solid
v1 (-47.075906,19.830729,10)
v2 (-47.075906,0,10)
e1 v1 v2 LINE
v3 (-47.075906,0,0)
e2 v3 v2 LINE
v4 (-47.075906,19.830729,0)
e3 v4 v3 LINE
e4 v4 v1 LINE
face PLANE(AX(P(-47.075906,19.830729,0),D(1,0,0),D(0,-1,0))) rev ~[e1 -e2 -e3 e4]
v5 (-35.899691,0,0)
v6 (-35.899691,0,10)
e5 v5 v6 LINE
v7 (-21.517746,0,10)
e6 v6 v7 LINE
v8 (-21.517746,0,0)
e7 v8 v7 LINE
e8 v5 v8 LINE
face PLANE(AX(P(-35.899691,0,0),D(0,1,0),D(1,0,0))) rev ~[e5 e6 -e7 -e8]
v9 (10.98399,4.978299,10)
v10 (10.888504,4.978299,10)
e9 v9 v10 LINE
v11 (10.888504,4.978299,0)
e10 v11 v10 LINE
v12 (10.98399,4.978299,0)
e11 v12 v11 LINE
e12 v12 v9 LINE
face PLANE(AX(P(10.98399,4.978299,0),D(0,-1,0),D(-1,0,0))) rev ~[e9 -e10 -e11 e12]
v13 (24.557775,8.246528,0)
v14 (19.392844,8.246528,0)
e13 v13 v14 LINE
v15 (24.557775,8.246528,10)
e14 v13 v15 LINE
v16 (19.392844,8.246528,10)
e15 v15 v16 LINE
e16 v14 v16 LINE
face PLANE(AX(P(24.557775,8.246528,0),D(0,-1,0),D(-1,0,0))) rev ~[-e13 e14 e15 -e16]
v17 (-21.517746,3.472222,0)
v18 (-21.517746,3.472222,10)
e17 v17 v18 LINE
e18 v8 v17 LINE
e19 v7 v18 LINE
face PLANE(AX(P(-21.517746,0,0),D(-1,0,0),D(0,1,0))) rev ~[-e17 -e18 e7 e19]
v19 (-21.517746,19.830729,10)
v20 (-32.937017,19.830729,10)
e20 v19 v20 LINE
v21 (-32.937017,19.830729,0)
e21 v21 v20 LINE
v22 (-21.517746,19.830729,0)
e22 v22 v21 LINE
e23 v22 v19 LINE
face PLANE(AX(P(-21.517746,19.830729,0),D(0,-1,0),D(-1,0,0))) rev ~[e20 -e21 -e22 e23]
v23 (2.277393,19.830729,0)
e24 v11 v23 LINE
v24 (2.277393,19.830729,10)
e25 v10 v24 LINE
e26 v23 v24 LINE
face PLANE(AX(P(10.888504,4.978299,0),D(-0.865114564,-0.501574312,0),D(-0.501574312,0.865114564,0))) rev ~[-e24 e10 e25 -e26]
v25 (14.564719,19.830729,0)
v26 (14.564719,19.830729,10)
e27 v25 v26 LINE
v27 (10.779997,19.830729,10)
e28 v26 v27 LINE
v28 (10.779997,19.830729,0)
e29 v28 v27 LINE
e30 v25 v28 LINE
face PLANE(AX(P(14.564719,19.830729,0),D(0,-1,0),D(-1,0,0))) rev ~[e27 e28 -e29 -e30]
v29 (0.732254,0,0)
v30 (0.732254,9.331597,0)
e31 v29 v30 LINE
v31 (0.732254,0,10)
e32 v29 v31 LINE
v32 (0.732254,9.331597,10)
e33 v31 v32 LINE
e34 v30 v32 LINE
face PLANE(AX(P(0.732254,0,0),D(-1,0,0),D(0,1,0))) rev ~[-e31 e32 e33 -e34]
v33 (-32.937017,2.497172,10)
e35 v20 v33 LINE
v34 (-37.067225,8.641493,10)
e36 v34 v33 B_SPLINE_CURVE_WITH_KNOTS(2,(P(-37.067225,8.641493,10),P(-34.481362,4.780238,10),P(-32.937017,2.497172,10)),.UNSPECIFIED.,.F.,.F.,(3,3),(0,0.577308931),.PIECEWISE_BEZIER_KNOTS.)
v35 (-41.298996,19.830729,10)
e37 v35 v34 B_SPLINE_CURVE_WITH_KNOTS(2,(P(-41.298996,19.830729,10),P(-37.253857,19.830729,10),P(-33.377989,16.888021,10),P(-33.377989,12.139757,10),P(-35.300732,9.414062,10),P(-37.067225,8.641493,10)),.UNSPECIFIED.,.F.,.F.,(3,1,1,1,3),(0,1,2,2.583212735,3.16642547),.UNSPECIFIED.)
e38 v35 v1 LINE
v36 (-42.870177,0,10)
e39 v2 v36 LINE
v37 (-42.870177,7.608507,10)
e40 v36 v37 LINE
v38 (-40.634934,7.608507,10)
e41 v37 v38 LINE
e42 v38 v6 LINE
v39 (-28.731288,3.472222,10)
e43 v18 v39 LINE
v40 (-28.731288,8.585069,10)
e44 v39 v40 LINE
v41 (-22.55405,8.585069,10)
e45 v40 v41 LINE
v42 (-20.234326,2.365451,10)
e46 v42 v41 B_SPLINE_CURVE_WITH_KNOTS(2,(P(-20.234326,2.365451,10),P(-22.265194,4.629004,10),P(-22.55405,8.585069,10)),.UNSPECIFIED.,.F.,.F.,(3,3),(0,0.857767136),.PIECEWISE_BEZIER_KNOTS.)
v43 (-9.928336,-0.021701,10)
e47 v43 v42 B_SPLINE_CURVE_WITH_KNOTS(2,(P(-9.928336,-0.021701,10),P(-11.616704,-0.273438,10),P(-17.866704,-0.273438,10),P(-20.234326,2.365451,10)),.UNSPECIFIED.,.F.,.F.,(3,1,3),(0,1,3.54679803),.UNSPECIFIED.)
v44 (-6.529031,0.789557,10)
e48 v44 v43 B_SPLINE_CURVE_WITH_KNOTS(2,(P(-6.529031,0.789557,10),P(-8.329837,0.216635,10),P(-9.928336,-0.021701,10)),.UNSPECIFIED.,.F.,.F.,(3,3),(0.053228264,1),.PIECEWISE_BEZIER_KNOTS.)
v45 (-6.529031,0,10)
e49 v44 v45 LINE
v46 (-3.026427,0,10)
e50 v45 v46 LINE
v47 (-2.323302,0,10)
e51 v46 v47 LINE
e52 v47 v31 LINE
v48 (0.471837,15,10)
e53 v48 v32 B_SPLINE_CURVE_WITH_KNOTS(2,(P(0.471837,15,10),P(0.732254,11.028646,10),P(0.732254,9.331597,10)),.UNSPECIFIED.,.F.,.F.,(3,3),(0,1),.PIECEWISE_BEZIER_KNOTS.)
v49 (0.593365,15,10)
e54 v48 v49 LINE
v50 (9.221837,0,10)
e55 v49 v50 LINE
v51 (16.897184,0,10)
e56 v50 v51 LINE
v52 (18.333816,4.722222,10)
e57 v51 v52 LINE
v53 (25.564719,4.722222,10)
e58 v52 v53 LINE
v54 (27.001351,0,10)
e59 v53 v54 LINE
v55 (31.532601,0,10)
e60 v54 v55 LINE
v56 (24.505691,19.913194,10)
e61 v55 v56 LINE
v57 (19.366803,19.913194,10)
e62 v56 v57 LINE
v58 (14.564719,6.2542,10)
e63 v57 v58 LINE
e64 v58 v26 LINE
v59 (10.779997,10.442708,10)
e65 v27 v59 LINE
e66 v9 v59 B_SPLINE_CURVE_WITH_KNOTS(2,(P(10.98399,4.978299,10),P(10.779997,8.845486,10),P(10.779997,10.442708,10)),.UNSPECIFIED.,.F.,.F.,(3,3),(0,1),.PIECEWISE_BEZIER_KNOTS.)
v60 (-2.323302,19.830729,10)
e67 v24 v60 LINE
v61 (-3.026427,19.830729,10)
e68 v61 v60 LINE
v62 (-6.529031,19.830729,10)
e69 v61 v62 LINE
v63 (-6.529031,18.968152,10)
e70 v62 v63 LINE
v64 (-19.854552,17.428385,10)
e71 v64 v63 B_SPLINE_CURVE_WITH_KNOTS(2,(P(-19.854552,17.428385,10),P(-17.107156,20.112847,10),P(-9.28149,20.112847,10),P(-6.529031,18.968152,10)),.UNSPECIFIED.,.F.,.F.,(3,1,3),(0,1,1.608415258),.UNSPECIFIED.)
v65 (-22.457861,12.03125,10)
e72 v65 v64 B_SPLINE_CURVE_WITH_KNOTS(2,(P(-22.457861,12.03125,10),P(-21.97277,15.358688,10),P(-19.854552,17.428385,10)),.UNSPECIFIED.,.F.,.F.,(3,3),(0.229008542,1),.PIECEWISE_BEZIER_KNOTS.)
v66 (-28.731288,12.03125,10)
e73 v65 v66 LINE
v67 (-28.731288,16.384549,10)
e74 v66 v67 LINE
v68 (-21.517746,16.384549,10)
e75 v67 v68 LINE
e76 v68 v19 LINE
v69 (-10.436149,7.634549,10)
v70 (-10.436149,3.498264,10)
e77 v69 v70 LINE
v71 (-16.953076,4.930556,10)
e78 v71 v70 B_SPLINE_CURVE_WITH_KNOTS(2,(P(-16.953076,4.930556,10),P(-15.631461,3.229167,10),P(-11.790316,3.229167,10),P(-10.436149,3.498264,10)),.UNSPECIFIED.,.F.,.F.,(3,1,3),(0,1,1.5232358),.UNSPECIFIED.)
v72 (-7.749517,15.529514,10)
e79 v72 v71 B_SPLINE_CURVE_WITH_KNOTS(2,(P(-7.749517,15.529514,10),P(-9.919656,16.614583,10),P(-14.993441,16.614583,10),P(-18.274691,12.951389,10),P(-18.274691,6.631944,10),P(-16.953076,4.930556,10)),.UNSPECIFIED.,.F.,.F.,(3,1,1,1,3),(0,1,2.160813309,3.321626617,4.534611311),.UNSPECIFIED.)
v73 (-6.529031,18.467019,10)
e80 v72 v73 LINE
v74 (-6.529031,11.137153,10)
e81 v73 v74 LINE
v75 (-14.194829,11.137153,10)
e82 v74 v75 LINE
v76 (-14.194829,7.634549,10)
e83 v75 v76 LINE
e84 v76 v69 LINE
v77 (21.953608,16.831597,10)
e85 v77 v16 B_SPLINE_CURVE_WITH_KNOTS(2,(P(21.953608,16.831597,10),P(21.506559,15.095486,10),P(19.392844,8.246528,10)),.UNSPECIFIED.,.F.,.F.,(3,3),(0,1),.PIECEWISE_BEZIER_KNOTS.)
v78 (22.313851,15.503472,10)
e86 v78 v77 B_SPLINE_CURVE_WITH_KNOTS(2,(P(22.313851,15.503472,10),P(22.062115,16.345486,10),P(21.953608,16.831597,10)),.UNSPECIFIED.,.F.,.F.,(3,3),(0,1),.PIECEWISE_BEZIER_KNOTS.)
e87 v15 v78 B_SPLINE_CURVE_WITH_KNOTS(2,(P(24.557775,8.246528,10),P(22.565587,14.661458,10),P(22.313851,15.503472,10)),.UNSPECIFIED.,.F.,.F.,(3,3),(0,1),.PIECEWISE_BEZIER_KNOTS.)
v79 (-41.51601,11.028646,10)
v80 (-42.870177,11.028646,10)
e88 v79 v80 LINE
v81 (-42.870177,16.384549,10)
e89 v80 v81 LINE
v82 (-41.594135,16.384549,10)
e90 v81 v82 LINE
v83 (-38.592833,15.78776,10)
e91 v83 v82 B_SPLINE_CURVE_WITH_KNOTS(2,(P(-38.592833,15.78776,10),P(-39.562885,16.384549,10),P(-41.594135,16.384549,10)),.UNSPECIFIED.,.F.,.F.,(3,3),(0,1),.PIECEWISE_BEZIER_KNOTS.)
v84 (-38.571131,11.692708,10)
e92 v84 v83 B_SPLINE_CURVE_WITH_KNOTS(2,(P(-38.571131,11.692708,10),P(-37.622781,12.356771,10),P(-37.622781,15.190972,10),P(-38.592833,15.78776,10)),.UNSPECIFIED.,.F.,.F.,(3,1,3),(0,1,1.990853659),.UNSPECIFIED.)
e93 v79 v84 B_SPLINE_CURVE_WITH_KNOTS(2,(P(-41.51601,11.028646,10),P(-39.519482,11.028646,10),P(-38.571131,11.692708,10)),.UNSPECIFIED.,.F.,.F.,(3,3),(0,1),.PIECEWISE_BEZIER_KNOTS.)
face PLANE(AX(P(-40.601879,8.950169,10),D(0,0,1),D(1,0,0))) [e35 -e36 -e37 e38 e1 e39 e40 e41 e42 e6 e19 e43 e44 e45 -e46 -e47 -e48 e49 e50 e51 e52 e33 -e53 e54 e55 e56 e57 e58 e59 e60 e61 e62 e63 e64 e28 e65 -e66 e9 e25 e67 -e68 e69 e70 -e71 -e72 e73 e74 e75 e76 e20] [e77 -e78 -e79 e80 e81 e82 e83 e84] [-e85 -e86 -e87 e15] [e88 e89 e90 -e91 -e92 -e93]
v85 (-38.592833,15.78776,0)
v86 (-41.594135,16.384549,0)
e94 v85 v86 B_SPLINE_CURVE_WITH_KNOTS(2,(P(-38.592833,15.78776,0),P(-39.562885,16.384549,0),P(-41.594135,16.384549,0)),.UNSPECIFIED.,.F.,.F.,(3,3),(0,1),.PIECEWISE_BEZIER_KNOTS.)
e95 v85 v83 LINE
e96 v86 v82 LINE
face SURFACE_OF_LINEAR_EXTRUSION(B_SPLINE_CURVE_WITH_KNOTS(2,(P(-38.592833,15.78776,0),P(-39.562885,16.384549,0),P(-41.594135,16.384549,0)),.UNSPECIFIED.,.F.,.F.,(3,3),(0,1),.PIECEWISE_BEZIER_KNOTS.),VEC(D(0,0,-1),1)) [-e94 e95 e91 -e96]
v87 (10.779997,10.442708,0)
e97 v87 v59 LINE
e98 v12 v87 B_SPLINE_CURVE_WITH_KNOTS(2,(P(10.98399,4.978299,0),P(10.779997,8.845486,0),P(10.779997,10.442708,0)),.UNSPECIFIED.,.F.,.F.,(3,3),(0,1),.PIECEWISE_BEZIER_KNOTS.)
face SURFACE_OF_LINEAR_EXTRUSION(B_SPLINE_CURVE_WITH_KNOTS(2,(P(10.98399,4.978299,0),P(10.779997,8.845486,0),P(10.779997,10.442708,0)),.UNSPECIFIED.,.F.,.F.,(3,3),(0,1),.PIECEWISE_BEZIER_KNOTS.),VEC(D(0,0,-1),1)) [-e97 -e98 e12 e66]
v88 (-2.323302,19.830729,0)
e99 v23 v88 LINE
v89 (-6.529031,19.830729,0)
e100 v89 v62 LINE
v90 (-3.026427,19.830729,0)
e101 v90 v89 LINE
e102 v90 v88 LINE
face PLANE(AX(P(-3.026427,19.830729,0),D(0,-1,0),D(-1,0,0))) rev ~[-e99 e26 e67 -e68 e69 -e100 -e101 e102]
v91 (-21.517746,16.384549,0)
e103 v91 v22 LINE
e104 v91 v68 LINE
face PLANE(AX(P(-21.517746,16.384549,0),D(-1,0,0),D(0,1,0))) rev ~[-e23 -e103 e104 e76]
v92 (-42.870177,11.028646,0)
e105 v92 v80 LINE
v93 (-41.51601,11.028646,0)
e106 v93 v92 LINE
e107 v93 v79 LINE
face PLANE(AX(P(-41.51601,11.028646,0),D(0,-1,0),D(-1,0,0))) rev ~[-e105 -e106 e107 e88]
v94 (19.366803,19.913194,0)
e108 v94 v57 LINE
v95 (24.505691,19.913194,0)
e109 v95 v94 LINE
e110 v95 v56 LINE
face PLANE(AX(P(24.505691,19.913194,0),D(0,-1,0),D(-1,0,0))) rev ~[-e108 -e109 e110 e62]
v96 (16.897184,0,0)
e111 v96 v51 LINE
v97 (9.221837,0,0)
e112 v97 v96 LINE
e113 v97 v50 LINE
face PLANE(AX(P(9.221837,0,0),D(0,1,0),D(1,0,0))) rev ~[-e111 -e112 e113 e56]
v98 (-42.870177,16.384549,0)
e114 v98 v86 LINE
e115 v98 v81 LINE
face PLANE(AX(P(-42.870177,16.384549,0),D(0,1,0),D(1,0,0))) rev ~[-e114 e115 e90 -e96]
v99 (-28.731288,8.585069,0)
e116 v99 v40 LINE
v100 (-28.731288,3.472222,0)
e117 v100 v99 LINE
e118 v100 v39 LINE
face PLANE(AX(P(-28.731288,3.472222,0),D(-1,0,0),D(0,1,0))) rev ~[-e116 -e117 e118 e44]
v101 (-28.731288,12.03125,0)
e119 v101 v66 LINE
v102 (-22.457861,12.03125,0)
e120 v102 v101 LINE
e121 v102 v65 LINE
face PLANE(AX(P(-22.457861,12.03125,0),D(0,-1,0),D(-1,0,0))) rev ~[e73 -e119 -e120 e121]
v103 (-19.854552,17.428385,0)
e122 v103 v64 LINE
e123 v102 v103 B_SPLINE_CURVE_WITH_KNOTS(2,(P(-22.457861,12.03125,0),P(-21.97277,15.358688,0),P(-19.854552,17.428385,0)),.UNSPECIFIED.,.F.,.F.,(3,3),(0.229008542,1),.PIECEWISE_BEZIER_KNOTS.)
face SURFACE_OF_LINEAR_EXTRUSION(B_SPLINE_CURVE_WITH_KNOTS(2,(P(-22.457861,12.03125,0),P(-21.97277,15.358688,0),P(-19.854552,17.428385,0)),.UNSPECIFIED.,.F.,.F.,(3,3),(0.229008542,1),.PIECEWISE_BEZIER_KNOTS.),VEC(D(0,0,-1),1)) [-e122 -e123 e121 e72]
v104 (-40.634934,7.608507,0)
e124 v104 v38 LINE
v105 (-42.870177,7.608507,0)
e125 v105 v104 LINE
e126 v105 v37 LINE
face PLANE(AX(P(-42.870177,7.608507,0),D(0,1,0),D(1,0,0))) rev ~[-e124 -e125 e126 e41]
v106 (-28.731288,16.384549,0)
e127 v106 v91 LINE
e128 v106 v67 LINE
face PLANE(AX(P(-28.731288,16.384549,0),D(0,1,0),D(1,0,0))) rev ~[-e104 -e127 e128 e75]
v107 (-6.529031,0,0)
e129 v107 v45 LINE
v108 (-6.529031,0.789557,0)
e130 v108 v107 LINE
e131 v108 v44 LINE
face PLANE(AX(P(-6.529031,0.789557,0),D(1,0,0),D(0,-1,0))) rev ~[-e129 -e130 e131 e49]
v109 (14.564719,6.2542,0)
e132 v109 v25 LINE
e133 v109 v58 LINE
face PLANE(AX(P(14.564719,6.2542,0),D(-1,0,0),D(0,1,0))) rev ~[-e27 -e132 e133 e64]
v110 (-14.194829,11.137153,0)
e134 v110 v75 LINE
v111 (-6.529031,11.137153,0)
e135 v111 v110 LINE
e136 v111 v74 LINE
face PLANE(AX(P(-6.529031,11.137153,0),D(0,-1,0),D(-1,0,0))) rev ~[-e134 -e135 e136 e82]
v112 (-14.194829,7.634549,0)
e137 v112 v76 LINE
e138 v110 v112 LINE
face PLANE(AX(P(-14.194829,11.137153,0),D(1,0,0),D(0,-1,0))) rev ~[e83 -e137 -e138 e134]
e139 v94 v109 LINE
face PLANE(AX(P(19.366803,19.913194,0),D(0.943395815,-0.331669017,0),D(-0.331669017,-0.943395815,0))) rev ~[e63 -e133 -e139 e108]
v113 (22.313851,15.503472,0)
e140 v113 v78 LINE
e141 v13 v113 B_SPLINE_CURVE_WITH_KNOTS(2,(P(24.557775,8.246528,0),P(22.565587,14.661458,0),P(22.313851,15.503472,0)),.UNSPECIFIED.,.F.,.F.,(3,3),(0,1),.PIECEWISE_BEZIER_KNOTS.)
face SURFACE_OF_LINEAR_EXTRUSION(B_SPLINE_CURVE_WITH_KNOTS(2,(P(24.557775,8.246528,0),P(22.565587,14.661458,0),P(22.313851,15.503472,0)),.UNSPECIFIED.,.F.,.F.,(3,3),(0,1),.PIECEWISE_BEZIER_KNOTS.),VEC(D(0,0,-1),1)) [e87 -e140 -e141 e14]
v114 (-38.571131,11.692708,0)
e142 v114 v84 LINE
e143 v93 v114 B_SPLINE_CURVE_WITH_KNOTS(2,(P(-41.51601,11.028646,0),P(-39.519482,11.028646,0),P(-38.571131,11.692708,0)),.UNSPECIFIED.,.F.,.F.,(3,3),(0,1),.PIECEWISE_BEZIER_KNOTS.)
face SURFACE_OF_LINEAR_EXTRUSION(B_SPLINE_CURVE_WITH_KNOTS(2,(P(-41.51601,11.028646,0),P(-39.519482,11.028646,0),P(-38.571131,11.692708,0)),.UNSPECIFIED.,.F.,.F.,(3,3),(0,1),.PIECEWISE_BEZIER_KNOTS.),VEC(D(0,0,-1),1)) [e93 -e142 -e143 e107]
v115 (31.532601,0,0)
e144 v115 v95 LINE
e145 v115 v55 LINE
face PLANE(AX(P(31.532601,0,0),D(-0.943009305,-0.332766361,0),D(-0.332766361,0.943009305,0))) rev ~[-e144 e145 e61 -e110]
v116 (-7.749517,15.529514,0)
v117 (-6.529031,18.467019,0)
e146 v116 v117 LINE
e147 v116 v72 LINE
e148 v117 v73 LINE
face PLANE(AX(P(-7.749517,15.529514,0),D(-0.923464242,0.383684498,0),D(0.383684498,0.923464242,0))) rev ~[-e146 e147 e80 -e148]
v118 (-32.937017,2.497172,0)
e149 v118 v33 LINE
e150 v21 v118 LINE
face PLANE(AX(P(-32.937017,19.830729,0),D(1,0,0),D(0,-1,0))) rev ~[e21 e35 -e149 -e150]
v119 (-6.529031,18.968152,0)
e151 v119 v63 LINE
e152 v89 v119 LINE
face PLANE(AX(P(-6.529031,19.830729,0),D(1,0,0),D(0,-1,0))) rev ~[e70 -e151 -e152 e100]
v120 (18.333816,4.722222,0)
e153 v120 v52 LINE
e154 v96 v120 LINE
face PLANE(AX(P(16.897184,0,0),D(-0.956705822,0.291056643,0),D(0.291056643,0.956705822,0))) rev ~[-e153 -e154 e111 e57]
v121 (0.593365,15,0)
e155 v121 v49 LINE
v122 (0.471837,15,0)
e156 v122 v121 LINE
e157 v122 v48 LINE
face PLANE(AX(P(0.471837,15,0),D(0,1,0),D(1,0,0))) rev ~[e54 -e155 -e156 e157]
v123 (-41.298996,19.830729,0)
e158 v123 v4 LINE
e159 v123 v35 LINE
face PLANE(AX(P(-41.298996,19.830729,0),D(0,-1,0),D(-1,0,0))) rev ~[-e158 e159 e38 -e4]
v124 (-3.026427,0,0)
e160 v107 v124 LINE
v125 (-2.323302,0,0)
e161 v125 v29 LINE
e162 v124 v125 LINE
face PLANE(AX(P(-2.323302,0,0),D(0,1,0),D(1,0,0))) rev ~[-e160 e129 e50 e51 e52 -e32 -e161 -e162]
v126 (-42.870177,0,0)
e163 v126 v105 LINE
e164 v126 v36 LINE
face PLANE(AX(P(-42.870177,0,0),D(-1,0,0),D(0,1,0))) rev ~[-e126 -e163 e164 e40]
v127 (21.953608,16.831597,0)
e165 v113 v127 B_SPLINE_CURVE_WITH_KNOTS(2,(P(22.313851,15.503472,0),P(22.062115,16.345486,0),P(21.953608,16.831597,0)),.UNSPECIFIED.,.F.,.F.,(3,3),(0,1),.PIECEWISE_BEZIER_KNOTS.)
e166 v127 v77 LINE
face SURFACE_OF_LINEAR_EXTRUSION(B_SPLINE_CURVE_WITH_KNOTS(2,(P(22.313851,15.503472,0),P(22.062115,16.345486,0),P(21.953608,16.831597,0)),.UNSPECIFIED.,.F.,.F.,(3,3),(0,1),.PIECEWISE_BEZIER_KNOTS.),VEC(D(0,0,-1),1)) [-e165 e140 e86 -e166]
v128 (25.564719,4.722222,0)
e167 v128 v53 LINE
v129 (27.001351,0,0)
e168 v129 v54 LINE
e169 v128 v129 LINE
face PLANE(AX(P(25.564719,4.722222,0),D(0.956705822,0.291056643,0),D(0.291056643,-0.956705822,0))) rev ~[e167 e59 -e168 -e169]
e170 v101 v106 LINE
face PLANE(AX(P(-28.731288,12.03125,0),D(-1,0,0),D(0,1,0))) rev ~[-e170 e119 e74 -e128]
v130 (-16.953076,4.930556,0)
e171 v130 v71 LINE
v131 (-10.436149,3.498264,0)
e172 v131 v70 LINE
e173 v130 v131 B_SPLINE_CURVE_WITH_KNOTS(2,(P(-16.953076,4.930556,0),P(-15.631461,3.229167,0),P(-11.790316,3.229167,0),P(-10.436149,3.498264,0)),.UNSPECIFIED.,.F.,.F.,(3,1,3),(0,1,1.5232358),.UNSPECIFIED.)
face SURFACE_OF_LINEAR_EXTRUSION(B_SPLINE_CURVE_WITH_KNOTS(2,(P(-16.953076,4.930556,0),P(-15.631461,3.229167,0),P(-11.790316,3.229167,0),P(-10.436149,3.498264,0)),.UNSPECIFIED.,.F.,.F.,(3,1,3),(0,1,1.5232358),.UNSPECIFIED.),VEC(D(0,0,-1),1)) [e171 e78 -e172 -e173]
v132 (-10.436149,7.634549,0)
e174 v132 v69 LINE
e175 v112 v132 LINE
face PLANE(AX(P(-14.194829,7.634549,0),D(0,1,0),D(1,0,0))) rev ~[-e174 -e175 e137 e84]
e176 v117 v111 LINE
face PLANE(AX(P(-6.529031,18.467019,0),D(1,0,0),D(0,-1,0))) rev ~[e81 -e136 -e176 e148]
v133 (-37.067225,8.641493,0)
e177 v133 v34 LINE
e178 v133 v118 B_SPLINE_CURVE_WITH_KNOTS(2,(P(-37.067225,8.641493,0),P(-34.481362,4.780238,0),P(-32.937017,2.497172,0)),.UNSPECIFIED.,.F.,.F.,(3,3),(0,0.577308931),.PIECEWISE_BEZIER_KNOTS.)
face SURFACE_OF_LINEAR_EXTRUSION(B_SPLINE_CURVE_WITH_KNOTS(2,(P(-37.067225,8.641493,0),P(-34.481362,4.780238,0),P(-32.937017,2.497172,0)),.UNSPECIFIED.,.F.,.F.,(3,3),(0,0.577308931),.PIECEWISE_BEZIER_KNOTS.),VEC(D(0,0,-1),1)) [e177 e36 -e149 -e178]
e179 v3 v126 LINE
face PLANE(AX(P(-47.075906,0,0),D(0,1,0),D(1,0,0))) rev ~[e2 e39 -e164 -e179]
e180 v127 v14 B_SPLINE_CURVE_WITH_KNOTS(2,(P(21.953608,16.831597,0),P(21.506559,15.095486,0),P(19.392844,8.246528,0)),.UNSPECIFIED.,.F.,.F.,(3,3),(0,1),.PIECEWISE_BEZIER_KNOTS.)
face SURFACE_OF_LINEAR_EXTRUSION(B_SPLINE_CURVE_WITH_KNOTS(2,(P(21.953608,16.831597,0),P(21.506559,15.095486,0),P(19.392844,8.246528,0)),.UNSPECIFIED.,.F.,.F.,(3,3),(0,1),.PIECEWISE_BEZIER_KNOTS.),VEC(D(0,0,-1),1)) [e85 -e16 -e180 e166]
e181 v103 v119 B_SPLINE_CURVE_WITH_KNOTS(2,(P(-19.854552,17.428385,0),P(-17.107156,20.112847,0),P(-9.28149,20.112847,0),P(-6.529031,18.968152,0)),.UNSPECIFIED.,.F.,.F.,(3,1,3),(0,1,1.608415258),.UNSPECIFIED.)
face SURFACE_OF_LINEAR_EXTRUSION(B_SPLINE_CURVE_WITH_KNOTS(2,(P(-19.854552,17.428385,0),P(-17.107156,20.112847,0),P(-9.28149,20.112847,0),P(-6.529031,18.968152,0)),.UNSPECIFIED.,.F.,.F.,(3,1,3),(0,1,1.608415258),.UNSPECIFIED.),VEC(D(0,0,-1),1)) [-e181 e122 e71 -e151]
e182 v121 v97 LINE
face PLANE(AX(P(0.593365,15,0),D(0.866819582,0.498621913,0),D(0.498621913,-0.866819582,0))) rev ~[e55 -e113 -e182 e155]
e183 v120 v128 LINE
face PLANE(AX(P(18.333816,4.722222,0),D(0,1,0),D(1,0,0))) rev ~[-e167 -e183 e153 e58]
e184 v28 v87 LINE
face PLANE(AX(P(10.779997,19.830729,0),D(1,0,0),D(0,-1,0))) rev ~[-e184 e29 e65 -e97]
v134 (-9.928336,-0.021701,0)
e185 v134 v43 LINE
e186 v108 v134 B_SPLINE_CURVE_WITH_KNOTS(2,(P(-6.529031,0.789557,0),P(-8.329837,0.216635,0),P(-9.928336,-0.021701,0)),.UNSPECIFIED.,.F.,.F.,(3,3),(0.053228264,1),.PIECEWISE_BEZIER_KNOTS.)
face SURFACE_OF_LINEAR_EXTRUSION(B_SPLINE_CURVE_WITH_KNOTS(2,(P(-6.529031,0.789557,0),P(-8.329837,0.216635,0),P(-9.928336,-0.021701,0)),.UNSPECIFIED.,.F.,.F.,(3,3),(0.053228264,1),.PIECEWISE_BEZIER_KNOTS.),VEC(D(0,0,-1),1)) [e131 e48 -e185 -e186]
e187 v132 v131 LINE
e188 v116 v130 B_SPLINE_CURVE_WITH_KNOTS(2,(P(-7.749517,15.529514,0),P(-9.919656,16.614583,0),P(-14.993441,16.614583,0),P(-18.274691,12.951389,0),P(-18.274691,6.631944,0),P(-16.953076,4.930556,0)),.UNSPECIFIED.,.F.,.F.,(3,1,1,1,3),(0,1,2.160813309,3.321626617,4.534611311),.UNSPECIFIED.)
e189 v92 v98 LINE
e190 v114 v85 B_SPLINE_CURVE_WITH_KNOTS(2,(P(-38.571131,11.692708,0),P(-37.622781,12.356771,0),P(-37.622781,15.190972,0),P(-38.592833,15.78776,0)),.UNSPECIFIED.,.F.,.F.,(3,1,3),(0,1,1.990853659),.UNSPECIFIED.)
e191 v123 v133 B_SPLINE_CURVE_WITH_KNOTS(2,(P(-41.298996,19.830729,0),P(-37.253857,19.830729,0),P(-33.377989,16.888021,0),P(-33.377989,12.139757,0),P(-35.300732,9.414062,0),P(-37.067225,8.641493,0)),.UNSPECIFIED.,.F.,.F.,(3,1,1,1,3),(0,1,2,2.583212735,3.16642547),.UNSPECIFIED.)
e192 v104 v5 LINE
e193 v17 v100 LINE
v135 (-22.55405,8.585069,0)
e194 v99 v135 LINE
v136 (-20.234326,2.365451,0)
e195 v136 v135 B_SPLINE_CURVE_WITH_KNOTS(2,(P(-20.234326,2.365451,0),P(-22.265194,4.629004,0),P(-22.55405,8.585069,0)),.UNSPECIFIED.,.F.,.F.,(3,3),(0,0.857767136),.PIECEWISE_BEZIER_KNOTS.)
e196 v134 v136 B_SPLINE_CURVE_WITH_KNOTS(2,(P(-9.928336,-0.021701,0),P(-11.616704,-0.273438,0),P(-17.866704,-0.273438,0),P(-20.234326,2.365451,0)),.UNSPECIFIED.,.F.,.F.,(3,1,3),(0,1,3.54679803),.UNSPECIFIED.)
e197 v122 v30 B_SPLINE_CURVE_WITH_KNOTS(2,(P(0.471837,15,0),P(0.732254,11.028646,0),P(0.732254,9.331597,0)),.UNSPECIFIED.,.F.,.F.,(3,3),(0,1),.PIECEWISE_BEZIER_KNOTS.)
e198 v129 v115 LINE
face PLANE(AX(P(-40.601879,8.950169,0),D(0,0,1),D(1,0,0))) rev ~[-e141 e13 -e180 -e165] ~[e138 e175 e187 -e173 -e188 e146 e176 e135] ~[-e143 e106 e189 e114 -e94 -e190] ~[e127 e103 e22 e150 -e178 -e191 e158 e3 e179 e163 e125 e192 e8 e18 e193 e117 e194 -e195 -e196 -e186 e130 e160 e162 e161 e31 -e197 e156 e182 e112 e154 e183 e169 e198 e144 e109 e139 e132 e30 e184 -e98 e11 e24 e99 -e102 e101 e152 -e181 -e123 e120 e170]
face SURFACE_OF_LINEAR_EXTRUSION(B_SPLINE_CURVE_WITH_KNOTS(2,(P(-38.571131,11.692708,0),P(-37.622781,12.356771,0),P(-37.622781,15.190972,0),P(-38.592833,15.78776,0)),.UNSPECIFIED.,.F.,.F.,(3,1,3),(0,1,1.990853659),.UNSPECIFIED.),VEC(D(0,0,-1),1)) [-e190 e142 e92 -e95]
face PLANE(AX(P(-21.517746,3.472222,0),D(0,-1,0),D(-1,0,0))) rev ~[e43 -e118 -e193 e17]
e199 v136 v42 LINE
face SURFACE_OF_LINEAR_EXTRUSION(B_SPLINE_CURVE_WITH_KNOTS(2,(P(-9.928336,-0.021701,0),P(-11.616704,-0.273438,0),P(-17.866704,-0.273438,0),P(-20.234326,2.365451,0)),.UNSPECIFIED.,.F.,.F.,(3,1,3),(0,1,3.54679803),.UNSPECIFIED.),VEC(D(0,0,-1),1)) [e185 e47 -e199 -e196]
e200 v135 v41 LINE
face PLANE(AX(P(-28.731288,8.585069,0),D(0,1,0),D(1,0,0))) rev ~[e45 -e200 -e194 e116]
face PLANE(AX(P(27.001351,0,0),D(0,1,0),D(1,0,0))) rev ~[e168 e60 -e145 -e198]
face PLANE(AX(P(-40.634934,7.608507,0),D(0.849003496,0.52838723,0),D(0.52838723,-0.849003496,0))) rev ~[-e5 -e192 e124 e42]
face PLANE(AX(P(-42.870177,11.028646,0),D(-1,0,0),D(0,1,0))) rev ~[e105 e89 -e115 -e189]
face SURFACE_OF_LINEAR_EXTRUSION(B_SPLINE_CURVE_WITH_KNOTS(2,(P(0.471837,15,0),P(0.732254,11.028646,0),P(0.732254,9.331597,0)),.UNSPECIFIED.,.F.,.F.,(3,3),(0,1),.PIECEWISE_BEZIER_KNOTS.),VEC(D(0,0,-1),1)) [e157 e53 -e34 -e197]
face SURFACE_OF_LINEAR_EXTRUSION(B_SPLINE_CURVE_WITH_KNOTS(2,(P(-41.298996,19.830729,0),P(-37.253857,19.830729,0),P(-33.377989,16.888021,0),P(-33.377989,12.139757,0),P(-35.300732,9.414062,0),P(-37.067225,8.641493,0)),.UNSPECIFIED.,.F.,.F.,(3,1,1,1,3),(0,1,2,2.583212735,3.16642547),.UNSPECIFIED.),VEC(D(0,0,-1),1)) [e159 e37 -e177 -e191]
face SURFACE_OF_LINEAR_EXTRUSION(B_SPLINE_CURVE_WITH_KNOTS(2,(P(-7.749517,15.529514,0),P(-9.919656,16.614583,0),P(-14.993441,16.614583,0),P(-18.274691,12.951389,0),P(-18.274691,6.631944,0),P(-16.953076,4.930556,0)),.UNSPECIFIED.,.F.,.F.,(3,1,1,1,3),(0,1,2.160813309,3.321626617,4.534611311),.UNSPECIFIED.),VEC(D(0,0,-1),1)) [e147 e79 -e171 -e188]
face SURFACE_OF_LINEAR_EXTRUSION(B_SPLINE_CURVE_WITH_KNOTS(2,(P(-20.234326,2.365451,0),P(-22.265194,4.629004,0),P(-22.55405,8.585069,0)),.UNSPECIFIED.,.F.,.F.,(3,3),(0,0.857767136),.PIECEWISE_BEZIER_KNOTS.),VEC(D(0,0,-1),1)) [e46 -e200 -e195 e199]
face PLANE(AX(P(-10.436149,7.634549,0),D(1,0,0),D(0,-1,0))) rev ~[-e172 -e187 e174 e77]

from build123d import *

# Parameters (mm, degrees)
F0_W     = 0.703125
F0_H     = 19.8307291667
F1_DEPTH = 10


with BuildPart() as f1:
    # F0 (on Top) → F1 (new body)
    with BuildSketch(Plane.XY):
        with BuildLine():
            Line((-42.8701766354, 0), (-42.8701766354, 7.6085069444))
            Line((-42.8701766354, 7.6085069444), (-40.6349335799, 7.6085069444))
            Line((-40.6349335799, 7.6085069444), (-35.8996905243, 0))
            Line((-35.8996905243, 0), (-32.9370169132, 0))
            Line((-32.9370169132, 0), (-32.9370169132, 2.4971721643))
            add(Edge.make_bspline(
                [(-37.0672252465, 8.6414930556), (-34.4813623275, 4.7802384448), (-32.9370169132, 2.4971721643)],
                knots=[0, 0, 0, 0.5773089308, 0.5773089308, 0.5773089308], degree=2))
            add(Edge.make_bspline(
                [(-34.3393606632, 10.7769097222), (-35.300732191, 9.4140625), (-37.0672252465, 8.6414930556)],
                knots=[0, 0, 0, 1, 1, 1], degree=2))
            add(Edge.make_bspline(
                [(-33.3779891354, 13.8888888889), (-33.3779891354, 12.1397569444), (-34.3393606632, 10.7769097222)],
                knots=[0, 0, 0, 1, 1, 1], degree=2))
            add(Edge.make_bspline(
                [(-35.3159231632, 18.359375), (-33.3779891354, 16.8880208333), (-33.3779891354, 13.8888888889)],
                knots=[0, 0, 0, 1, 1, 1], degree=2))
            add(Edge.make_bspline(
                [(-41.2989960799, 19.8307291667), (-37.253857191, 19.8307291667), (-35.3159231632, 18.359375)],
                knots=[0, 0, 0, 1, 1, 1], degree=2))
            Line((-41.2989960799, 19.8307291667), (-47.0759058021, 19.8307291667))
            Line((-47.0759058021, 19.8307291667), (-47.0759058021, 0))
            Line((-47.0759058021, 0), (-42.8701766354, 0))
        make_face()
        with BuildLine():
            Line((-41.5160099688, 11.0286458333), (-42.8701766354, 11.0286458333))
            Line((-42.8701766354, 11.0286458333), (-42.8701766354, 16.3845486111))
            Line((-42.8701766354, 16.3845486111), (-41.5941349688, 16.3845486111))
            add(Edge.make_bspline(
                [(-38.5928328854, 15.7877604167), (-39.5628849688, 16.3845486111), (-41.5941349688, 16.3845486111)],
                knots=[0, 0, 0, 1, 1, 1], degree=2))
            add(Edge.make_bspline(
                [(-37.6227808021, 13.7803819444), (-37.6227808021, 15.1909722222), (-38.5928328854, 15.7877604167)],
                knots=[0, 0, 0, 1, 1, 1], degree=2))
            add(Edge.make_bspline(
                [(-38.5711314965, 11.6927083333), (-37.6227808021, 12.3567708333), (-37.6227808021, 13.7803819444)],
                knots=[0, 0, 0, 1, 1, 1], degree=2))
            add(Edge.make_bspline(
                [(-41.5160099688, 11.0286458333), (-39.519482191, 11.0286458333), (-38.5711314965, 11.6927083333)],
                knots=[0, 0, 0, 1, 1, 1], degree=2))
        make_face(mode=Mode.SUBTRACT)
        with BuildLine():
            Line((-32.9370169132, 2.4971721643), (-32.9370169132, 0))
            Line((-32.9370169132, 0), (-31.2338919132, 0))
            add(Edge.make_bspline(
                [(-32.9370169132, 2.4971721643), (-31.8062860695, 0.8255684946), (-31.2338919132, 0)],
                knots=[0.5773089308, 0.5773089308, 0.5773089308, 1, 1, 1], degree=2))
        make_face()
        with BuildLine():
            add(Edge.make_bspline(
                [(-32.9370169132, 2.4971721643), (-31.8062860695, 0.8255684946), (-31.2338919132, 0)],
                knots=[0.5773089308, 0.5773089308, 0.5773089308, 1, 1, 1], degree=2))
            Line((-31.2338919132, 0), (-21.5177460799, 0))
            Line((-21.5177460799, 0), (-21.5177460799, 3.4722222222))
            Line((-21.5177460799, 3.4722222222), (-28.7312877465, 3.4722222222))
            Line((-28.7312877465, 3.4722222222), (-28.7312877465, 8.5850694444))
            Line((-28.7312877465, 8.5850694444), (-22.5540500408, 8.5850694444))
            add(Edge.make_bspline(
                [(-22.5540500408, 8.5850694444), (-22.6019474688, 9.2410546886), (-22.6019474688, 9.9435763889)],
                knots=[0.8577671355, 0.8577671355, 0.8577671355, 1, 1, 1], degree=2))
            add(Edge.make_bspline(
                [(-22.6019474688, 9.9435763889), (-22.6019474688, 11.042896907), (-22.4578605353, 12.03125)],
                knots=[0, 0, 0, 0.2290085419, 0.2290085419, 0.2290085419], degree=2))
            Line((-22.4578605353, 12.03125), (-28.7312877465, 12.03125))
            Line((-28.7312877465, 12.03125), (-28.7312877465, 16.3845486111))
            Line((-28.7312877465, 16.3845486111), (-21.5177460799, 16.3845486111))
            Line((-21.5177460799, 16.3845486111), (-21.5177460799, 19.8307291667))
            Line((-21.5177460799, 19.8307291667), (-32.9370169132, 19.8307291667))
            Line((-32.9370169132, 19.8307291667), (-32.9370169132, 2.4971721643))
        make_face()
        with BuildLine():
            add(Edge.make_bspline(
                [(-22.5540500408, 8.5850694444), (-22.6019474688, 9.2410546886), (-22.6019474688, 9.9435763889)],
                knots=[0.8577671355, 0.8577671355, 0.8577671355, 1, 1, 1], degree=2))
            Line((-22.5540500408, 8.5850694444), (-22.0168780243, 8.5850694444))
            Line((-22.0168780243, 8.5850694444), (-22.0168780243, 12.03125))
            Line((-22.0168780243, 12.03125), (-22.4578605353, 12.03125))
            add(Edge.make_bspline(
                [(-22.6019474688, 9.9435763889), (-22.6019474688, 11.042896907), (-22.4578605353, 12.03125)],
                knots=[0, 0, 0, 0.2290085419, 0.2290085419, 0.2290085419], degree=2))
        make_face()
        with BuildLine():
            Line((-22.0168780243, 8.5850694444), (-22.5540500408, 8.5850694444))
            add(Edge.make_bspline(
                [(-20.234325941, 2.3654513889), (-22.2651938769, 4.6290035521), (-22.5540500408, 8.5850694444)],
                knots=[0, 0, 0, 0.8577671355, 0.8577671355, 0.8577671355], degree=2))
            add(Edge.make_bspline(
                [(-13.378857191, -0.2734375), (-17.8667044132, -0.2734375), (-20.234325941, 2.3654513889)],
                knots=[0, 0, 0, 1, 1, 1], degree=2))
            add(Edge.make_bspline(
                [(-9.9283363577, -0.0217013889), (-11.6167044132, -0.2734375), (-13.378857191, -0.2734375)],
                knots=[0, 0, 0, 1, 1, 1], degree=2))
            add(Edge.make_bspline(
                [(-6.5290308021, 0.7895569413), (-8.3298372028, 0.216635246), (-9.9283363577, -0.0217013889)],
                knots=[0.0532282641, 0.0532282641, 0.0532282641, 1, 1, 1], degree=2))
            Line((-6.5290308021, 0.7895569413), (-6.5290308021, 11.1371527778))
            Line((-6.5290308021, 11.1371527778), (-14.1948294132, 11.1371527778))
            Line((-14.1948294132, 11.1371527778), (-14.1948294132, 7.6345486111))
            Line((-14.1948294132, 7.6345486111), (-10.4361488577, 7.6345486111))
            Line((-10.4361488577, 7.6345486111), (-10.4361488577, 3.4982638889))
            add(Edge.make_bspline(
                [(-13.1097599688, 3.2291666667), (-11.7903155243, 3.2291666667), (-10.4361488577, 3.4982638889)],
                knots=[0, 0, 0, 1, 1, 1], degree=2))
            add(Edge.make_bspline(
                [(-16.953075941, 4.9305555556), (-15.6314613577, 3.2291666667), (-13.1097599688, 3.2291666667)],
                knots=[0, 0, 0, 1, 1, 1], degree=2))
            add(Edge.make_bspline(
                [(-18.2746905243, 9.8611111111), (-18.2746905243, 6.6319444444), (-16.953075941, 4.9305555556)],
                knots=[0, 0, 0, 1, 1, 1], degree=2))
            add(Edge.make_bspline(
                [(-16.6340655243, 14.7829861111), (-18.2746905243, 12.9513888889), (-18.2746905243, 9.8611111111)],
                knots=[0, 0, 0, 1, 1, 1], degree=2))
            add(Edge.make_bspline(
                [(-12.2677460799, 16.6145833333), (-14.9934405243, 16.6145833333), (-16.6340655243, 14.7829861111)],
                knots=[0, 0, 0, 1, 1, 1], degree=2))
            add(Edge.make_bspline(
                [(-7.7495169132, 15.5295138889), (-9.9196558021, 16.6145833333), (-12.2677460799, 16.6145833333)],
                knots=[0, 0, 0, 1, 1, 1], degree=2))
            Line((-7.7495169132, 15.5295138889), (-6.5290308021, 18.4670192805))
            Line((-6.5290308021, 18.4670192805), (-6.5290308021, 18.9681518024))
            add(Edge.make_bspline(
                [(-12.2417044132, 20.1128472222), (-9.2814895535, 20.1128472222), (-6.5290308021, 18.9681518024)],
                knots=[0, 0, 0, 0.9687975904, 0.9687975904, 0.9687975904], degree=2))
            add(Edge.make_bspline(
                [(-19.8545516354, 17.4283854167), (-17.1071558021, 20.1128472222), (-12.2417044132, 20.1128472222)],
                knots=[0, 0, 0, 1, 1, 1], degree=2))
            add(Edge.make_bspline(
                [(-22.4578605353, 12.03125), (-21.9727703549, 15.358688295), (-19.8545516354, 17.4283854167)],
                knots=[0.2290085419, 0.2290085419, 0.2290085419, 1, 1, 1], degree=2))
            Line((-22.4578605353, 12.03125), (-22.0168780243, 12.03125))
            Line((-22.0168780243, 12.03125), (-22.0168780243, 8.5850694444))
        make_face()
        with BuildLine():
            Line((-6.5290308021, 11.1371527778), (-6.5290308021, 0.7895569413))
            add(Edge.make_bspline(
                [(-6.3259058021, 0.8550347222), (-6.4277880263, 0.8217670572), (-6.5290308021, 0.7895569413)],
                knots=[0, 0, 0, 0.0532282641, 0.0532282641, 0.0532282641], degree=2))
            Line((-6.3259058021, 0.8550347222), (-6.3259058021, 11.1371527778))
            Line((-6.3259058021, 11.1371527778), (-6.5290308021, 11.1371527778))
        make_face()
        with BuildLine():
            add(Edge.make_bspline(
                [(-6.3259058021, 0.8550347222), (-6.4277880263, 0.8217670572), (-6.5290308021, 0.7895569413)],
                knots=[0, 0, 0, 0.0532282641, 0.0532282641, 0.0532282641], degree=2))
            Line((-6.5290308021, 0.7895569413), (-6.5290308021, 0))
            Line((-6.5290308021, 0), (-3.0264266354, 0))
            Line((-3.0264266354, 0), (-3.0264266354, 19.8307291667))
            Line((-3.0264266354, 19.8307291667), (-6.5290308021, 19.8307291667))
            Line((-6.5290308021, 19.8307291667), (-6.5290308021, 18.9681518024))
            add(Edge.make_bspline(
                [(-6.5290308021, 18.9681518024), (-6.4403813813, 18.9312841887), (-6.3519474688, 18.8932291667)],
                knots=[0.9687975904, 0.9687975904, 0.9687975904, 1, 1, 1], degree=2))
            Line((-6.3519474688, 18.8932291667), (-6.5290308021, 18.4670192805))
            Line((-6.5290308021, 18.4670192805), (-6.5290308021, 11.1371527778))
            Line((-6.5290308021, 11.1371527778), (-6.3259058021, 11.1371527778))
            Line((-6.3259058021, 11.1371527778), (-6.3259058021, 0.8550347222))
        make_face()
        with BuildLine():
            add(Edge.make_bspline(
                [(-6.5290308021, 18.9681518024), (-6.4403813813, 18.9312841887), (-6.3519474688, 18.8932291667)],
                knots=[0.9687975904, 0.9687975904, 0.9687975904, 1, 1, 1], degree=2))
            Line((-6.5290308021, 18.9681518024), (-6.5290308021, 18.4670192805))
            Line((-6.5290308021, 18.4670192805), (-6.3519474688, 18.8932291667))
        make_face()
        with Locations((-2.6748641354, 9.9153645833)):
            Rectangle(F0_W, F0_H)
        with BuildLine():
            Line((-2.3233016354, 19.8307291667), (-2.3233016354, 0))
            Line((-2.3233016354, 0), (0.7322539201, 0))
            Line((0.7322539201, 0), (0.7322539201, 9.3315972222))
            add(Edge.make_bspline(
                [(0.4718372535, 15), (0.7322539201, 11.0286458333), (0.7322539201, 9.3315972222)],
                knots=[0, 0, 0, 1, 1, 1], degree=2))
            Line((0.4718372535, 15), (0.5933650312, 15))
            Line((0.5933650312, 15), (9.2218372535, 0))
            Line((9.2218372535, 0), (12.3659344757, 0))
            Line((12.3659344757, 0), (14.5647191979, 6.2541998175))
            Line((14.5647191979, 6.2541998175), (14.5647191979, 19.8307291667))
            Line((14.5647191979, 19.8307291667), (10.7799969757, 19.8307291667))
            Line((10.7799969757, 19.8307291667), (10.7799969757, 10.4427083333))
            add(Edge.make_bspline(
                [(10.9839900312, 4.9782986111), (10.7799969757, 8.8454861111), (10.7799969757, 10.4427083333)],
                knots=[0, 0, 0, 1, 1, 1], degree=2))
            Line((10.9839900312, 4.9782986111), (10.8885039201, 4.9782986111))
            Line((10.8885039201, 4.9782986111), (2.277392809, 19.8307291667))
            Line((2.277392809, 19.8307291667), (-2.3233016354, 19.8307291667))
        make_face()
        Polygon((14.5647191979, 6.2541998175), (12.3659344757, 0), (14.5647191979, 0), align=None)
        Polygon((14.5647191979, 6.2541998175), (14.5647191979, 0), (16.8971844757, 0), (18.3338164201, 4.7222222222), (25.5647191979, 4.7222222222), (27.0013511423, 0), (31.5326011423, 0), (24.5056914201, 19.9131944444), (19.3668025312, 19.9131944444), align=None)
        with BuildLine():
            add(Edge.make_bspline(
                [(24.5577747535, 8.2465277778), (22.5655872535, 14.6614583333), (22.3138511423, 15.5034722222)],
                knots=[0, 0, 0, 1, 1, 1], degree=2))
            Line((24.5577747535, 8.2465277778), (19.3928441979, 8.2465277778))
            add(Edge.make_bspline(
                [(21.9536080868, 16.8315972222), (21.5065594757, 15.0954861111), (19.3928441979, 8.2465277778)],
                knots=[0, 0, 0, 1, 1, 1], degree=2))
            add(Edge.make_bspline(
                [(22.3138511423, 15.5034722222), (22.0621150312, 16.3454861111), (21.9536080868, 16.8315972222)],
                knots=[0, 0, 0, 1, 1, 1], degree=2))
        make_face(mode=Mode.SUBTRACT)
    extrude(amount=F1_DEPTH)


solid = f1.part
